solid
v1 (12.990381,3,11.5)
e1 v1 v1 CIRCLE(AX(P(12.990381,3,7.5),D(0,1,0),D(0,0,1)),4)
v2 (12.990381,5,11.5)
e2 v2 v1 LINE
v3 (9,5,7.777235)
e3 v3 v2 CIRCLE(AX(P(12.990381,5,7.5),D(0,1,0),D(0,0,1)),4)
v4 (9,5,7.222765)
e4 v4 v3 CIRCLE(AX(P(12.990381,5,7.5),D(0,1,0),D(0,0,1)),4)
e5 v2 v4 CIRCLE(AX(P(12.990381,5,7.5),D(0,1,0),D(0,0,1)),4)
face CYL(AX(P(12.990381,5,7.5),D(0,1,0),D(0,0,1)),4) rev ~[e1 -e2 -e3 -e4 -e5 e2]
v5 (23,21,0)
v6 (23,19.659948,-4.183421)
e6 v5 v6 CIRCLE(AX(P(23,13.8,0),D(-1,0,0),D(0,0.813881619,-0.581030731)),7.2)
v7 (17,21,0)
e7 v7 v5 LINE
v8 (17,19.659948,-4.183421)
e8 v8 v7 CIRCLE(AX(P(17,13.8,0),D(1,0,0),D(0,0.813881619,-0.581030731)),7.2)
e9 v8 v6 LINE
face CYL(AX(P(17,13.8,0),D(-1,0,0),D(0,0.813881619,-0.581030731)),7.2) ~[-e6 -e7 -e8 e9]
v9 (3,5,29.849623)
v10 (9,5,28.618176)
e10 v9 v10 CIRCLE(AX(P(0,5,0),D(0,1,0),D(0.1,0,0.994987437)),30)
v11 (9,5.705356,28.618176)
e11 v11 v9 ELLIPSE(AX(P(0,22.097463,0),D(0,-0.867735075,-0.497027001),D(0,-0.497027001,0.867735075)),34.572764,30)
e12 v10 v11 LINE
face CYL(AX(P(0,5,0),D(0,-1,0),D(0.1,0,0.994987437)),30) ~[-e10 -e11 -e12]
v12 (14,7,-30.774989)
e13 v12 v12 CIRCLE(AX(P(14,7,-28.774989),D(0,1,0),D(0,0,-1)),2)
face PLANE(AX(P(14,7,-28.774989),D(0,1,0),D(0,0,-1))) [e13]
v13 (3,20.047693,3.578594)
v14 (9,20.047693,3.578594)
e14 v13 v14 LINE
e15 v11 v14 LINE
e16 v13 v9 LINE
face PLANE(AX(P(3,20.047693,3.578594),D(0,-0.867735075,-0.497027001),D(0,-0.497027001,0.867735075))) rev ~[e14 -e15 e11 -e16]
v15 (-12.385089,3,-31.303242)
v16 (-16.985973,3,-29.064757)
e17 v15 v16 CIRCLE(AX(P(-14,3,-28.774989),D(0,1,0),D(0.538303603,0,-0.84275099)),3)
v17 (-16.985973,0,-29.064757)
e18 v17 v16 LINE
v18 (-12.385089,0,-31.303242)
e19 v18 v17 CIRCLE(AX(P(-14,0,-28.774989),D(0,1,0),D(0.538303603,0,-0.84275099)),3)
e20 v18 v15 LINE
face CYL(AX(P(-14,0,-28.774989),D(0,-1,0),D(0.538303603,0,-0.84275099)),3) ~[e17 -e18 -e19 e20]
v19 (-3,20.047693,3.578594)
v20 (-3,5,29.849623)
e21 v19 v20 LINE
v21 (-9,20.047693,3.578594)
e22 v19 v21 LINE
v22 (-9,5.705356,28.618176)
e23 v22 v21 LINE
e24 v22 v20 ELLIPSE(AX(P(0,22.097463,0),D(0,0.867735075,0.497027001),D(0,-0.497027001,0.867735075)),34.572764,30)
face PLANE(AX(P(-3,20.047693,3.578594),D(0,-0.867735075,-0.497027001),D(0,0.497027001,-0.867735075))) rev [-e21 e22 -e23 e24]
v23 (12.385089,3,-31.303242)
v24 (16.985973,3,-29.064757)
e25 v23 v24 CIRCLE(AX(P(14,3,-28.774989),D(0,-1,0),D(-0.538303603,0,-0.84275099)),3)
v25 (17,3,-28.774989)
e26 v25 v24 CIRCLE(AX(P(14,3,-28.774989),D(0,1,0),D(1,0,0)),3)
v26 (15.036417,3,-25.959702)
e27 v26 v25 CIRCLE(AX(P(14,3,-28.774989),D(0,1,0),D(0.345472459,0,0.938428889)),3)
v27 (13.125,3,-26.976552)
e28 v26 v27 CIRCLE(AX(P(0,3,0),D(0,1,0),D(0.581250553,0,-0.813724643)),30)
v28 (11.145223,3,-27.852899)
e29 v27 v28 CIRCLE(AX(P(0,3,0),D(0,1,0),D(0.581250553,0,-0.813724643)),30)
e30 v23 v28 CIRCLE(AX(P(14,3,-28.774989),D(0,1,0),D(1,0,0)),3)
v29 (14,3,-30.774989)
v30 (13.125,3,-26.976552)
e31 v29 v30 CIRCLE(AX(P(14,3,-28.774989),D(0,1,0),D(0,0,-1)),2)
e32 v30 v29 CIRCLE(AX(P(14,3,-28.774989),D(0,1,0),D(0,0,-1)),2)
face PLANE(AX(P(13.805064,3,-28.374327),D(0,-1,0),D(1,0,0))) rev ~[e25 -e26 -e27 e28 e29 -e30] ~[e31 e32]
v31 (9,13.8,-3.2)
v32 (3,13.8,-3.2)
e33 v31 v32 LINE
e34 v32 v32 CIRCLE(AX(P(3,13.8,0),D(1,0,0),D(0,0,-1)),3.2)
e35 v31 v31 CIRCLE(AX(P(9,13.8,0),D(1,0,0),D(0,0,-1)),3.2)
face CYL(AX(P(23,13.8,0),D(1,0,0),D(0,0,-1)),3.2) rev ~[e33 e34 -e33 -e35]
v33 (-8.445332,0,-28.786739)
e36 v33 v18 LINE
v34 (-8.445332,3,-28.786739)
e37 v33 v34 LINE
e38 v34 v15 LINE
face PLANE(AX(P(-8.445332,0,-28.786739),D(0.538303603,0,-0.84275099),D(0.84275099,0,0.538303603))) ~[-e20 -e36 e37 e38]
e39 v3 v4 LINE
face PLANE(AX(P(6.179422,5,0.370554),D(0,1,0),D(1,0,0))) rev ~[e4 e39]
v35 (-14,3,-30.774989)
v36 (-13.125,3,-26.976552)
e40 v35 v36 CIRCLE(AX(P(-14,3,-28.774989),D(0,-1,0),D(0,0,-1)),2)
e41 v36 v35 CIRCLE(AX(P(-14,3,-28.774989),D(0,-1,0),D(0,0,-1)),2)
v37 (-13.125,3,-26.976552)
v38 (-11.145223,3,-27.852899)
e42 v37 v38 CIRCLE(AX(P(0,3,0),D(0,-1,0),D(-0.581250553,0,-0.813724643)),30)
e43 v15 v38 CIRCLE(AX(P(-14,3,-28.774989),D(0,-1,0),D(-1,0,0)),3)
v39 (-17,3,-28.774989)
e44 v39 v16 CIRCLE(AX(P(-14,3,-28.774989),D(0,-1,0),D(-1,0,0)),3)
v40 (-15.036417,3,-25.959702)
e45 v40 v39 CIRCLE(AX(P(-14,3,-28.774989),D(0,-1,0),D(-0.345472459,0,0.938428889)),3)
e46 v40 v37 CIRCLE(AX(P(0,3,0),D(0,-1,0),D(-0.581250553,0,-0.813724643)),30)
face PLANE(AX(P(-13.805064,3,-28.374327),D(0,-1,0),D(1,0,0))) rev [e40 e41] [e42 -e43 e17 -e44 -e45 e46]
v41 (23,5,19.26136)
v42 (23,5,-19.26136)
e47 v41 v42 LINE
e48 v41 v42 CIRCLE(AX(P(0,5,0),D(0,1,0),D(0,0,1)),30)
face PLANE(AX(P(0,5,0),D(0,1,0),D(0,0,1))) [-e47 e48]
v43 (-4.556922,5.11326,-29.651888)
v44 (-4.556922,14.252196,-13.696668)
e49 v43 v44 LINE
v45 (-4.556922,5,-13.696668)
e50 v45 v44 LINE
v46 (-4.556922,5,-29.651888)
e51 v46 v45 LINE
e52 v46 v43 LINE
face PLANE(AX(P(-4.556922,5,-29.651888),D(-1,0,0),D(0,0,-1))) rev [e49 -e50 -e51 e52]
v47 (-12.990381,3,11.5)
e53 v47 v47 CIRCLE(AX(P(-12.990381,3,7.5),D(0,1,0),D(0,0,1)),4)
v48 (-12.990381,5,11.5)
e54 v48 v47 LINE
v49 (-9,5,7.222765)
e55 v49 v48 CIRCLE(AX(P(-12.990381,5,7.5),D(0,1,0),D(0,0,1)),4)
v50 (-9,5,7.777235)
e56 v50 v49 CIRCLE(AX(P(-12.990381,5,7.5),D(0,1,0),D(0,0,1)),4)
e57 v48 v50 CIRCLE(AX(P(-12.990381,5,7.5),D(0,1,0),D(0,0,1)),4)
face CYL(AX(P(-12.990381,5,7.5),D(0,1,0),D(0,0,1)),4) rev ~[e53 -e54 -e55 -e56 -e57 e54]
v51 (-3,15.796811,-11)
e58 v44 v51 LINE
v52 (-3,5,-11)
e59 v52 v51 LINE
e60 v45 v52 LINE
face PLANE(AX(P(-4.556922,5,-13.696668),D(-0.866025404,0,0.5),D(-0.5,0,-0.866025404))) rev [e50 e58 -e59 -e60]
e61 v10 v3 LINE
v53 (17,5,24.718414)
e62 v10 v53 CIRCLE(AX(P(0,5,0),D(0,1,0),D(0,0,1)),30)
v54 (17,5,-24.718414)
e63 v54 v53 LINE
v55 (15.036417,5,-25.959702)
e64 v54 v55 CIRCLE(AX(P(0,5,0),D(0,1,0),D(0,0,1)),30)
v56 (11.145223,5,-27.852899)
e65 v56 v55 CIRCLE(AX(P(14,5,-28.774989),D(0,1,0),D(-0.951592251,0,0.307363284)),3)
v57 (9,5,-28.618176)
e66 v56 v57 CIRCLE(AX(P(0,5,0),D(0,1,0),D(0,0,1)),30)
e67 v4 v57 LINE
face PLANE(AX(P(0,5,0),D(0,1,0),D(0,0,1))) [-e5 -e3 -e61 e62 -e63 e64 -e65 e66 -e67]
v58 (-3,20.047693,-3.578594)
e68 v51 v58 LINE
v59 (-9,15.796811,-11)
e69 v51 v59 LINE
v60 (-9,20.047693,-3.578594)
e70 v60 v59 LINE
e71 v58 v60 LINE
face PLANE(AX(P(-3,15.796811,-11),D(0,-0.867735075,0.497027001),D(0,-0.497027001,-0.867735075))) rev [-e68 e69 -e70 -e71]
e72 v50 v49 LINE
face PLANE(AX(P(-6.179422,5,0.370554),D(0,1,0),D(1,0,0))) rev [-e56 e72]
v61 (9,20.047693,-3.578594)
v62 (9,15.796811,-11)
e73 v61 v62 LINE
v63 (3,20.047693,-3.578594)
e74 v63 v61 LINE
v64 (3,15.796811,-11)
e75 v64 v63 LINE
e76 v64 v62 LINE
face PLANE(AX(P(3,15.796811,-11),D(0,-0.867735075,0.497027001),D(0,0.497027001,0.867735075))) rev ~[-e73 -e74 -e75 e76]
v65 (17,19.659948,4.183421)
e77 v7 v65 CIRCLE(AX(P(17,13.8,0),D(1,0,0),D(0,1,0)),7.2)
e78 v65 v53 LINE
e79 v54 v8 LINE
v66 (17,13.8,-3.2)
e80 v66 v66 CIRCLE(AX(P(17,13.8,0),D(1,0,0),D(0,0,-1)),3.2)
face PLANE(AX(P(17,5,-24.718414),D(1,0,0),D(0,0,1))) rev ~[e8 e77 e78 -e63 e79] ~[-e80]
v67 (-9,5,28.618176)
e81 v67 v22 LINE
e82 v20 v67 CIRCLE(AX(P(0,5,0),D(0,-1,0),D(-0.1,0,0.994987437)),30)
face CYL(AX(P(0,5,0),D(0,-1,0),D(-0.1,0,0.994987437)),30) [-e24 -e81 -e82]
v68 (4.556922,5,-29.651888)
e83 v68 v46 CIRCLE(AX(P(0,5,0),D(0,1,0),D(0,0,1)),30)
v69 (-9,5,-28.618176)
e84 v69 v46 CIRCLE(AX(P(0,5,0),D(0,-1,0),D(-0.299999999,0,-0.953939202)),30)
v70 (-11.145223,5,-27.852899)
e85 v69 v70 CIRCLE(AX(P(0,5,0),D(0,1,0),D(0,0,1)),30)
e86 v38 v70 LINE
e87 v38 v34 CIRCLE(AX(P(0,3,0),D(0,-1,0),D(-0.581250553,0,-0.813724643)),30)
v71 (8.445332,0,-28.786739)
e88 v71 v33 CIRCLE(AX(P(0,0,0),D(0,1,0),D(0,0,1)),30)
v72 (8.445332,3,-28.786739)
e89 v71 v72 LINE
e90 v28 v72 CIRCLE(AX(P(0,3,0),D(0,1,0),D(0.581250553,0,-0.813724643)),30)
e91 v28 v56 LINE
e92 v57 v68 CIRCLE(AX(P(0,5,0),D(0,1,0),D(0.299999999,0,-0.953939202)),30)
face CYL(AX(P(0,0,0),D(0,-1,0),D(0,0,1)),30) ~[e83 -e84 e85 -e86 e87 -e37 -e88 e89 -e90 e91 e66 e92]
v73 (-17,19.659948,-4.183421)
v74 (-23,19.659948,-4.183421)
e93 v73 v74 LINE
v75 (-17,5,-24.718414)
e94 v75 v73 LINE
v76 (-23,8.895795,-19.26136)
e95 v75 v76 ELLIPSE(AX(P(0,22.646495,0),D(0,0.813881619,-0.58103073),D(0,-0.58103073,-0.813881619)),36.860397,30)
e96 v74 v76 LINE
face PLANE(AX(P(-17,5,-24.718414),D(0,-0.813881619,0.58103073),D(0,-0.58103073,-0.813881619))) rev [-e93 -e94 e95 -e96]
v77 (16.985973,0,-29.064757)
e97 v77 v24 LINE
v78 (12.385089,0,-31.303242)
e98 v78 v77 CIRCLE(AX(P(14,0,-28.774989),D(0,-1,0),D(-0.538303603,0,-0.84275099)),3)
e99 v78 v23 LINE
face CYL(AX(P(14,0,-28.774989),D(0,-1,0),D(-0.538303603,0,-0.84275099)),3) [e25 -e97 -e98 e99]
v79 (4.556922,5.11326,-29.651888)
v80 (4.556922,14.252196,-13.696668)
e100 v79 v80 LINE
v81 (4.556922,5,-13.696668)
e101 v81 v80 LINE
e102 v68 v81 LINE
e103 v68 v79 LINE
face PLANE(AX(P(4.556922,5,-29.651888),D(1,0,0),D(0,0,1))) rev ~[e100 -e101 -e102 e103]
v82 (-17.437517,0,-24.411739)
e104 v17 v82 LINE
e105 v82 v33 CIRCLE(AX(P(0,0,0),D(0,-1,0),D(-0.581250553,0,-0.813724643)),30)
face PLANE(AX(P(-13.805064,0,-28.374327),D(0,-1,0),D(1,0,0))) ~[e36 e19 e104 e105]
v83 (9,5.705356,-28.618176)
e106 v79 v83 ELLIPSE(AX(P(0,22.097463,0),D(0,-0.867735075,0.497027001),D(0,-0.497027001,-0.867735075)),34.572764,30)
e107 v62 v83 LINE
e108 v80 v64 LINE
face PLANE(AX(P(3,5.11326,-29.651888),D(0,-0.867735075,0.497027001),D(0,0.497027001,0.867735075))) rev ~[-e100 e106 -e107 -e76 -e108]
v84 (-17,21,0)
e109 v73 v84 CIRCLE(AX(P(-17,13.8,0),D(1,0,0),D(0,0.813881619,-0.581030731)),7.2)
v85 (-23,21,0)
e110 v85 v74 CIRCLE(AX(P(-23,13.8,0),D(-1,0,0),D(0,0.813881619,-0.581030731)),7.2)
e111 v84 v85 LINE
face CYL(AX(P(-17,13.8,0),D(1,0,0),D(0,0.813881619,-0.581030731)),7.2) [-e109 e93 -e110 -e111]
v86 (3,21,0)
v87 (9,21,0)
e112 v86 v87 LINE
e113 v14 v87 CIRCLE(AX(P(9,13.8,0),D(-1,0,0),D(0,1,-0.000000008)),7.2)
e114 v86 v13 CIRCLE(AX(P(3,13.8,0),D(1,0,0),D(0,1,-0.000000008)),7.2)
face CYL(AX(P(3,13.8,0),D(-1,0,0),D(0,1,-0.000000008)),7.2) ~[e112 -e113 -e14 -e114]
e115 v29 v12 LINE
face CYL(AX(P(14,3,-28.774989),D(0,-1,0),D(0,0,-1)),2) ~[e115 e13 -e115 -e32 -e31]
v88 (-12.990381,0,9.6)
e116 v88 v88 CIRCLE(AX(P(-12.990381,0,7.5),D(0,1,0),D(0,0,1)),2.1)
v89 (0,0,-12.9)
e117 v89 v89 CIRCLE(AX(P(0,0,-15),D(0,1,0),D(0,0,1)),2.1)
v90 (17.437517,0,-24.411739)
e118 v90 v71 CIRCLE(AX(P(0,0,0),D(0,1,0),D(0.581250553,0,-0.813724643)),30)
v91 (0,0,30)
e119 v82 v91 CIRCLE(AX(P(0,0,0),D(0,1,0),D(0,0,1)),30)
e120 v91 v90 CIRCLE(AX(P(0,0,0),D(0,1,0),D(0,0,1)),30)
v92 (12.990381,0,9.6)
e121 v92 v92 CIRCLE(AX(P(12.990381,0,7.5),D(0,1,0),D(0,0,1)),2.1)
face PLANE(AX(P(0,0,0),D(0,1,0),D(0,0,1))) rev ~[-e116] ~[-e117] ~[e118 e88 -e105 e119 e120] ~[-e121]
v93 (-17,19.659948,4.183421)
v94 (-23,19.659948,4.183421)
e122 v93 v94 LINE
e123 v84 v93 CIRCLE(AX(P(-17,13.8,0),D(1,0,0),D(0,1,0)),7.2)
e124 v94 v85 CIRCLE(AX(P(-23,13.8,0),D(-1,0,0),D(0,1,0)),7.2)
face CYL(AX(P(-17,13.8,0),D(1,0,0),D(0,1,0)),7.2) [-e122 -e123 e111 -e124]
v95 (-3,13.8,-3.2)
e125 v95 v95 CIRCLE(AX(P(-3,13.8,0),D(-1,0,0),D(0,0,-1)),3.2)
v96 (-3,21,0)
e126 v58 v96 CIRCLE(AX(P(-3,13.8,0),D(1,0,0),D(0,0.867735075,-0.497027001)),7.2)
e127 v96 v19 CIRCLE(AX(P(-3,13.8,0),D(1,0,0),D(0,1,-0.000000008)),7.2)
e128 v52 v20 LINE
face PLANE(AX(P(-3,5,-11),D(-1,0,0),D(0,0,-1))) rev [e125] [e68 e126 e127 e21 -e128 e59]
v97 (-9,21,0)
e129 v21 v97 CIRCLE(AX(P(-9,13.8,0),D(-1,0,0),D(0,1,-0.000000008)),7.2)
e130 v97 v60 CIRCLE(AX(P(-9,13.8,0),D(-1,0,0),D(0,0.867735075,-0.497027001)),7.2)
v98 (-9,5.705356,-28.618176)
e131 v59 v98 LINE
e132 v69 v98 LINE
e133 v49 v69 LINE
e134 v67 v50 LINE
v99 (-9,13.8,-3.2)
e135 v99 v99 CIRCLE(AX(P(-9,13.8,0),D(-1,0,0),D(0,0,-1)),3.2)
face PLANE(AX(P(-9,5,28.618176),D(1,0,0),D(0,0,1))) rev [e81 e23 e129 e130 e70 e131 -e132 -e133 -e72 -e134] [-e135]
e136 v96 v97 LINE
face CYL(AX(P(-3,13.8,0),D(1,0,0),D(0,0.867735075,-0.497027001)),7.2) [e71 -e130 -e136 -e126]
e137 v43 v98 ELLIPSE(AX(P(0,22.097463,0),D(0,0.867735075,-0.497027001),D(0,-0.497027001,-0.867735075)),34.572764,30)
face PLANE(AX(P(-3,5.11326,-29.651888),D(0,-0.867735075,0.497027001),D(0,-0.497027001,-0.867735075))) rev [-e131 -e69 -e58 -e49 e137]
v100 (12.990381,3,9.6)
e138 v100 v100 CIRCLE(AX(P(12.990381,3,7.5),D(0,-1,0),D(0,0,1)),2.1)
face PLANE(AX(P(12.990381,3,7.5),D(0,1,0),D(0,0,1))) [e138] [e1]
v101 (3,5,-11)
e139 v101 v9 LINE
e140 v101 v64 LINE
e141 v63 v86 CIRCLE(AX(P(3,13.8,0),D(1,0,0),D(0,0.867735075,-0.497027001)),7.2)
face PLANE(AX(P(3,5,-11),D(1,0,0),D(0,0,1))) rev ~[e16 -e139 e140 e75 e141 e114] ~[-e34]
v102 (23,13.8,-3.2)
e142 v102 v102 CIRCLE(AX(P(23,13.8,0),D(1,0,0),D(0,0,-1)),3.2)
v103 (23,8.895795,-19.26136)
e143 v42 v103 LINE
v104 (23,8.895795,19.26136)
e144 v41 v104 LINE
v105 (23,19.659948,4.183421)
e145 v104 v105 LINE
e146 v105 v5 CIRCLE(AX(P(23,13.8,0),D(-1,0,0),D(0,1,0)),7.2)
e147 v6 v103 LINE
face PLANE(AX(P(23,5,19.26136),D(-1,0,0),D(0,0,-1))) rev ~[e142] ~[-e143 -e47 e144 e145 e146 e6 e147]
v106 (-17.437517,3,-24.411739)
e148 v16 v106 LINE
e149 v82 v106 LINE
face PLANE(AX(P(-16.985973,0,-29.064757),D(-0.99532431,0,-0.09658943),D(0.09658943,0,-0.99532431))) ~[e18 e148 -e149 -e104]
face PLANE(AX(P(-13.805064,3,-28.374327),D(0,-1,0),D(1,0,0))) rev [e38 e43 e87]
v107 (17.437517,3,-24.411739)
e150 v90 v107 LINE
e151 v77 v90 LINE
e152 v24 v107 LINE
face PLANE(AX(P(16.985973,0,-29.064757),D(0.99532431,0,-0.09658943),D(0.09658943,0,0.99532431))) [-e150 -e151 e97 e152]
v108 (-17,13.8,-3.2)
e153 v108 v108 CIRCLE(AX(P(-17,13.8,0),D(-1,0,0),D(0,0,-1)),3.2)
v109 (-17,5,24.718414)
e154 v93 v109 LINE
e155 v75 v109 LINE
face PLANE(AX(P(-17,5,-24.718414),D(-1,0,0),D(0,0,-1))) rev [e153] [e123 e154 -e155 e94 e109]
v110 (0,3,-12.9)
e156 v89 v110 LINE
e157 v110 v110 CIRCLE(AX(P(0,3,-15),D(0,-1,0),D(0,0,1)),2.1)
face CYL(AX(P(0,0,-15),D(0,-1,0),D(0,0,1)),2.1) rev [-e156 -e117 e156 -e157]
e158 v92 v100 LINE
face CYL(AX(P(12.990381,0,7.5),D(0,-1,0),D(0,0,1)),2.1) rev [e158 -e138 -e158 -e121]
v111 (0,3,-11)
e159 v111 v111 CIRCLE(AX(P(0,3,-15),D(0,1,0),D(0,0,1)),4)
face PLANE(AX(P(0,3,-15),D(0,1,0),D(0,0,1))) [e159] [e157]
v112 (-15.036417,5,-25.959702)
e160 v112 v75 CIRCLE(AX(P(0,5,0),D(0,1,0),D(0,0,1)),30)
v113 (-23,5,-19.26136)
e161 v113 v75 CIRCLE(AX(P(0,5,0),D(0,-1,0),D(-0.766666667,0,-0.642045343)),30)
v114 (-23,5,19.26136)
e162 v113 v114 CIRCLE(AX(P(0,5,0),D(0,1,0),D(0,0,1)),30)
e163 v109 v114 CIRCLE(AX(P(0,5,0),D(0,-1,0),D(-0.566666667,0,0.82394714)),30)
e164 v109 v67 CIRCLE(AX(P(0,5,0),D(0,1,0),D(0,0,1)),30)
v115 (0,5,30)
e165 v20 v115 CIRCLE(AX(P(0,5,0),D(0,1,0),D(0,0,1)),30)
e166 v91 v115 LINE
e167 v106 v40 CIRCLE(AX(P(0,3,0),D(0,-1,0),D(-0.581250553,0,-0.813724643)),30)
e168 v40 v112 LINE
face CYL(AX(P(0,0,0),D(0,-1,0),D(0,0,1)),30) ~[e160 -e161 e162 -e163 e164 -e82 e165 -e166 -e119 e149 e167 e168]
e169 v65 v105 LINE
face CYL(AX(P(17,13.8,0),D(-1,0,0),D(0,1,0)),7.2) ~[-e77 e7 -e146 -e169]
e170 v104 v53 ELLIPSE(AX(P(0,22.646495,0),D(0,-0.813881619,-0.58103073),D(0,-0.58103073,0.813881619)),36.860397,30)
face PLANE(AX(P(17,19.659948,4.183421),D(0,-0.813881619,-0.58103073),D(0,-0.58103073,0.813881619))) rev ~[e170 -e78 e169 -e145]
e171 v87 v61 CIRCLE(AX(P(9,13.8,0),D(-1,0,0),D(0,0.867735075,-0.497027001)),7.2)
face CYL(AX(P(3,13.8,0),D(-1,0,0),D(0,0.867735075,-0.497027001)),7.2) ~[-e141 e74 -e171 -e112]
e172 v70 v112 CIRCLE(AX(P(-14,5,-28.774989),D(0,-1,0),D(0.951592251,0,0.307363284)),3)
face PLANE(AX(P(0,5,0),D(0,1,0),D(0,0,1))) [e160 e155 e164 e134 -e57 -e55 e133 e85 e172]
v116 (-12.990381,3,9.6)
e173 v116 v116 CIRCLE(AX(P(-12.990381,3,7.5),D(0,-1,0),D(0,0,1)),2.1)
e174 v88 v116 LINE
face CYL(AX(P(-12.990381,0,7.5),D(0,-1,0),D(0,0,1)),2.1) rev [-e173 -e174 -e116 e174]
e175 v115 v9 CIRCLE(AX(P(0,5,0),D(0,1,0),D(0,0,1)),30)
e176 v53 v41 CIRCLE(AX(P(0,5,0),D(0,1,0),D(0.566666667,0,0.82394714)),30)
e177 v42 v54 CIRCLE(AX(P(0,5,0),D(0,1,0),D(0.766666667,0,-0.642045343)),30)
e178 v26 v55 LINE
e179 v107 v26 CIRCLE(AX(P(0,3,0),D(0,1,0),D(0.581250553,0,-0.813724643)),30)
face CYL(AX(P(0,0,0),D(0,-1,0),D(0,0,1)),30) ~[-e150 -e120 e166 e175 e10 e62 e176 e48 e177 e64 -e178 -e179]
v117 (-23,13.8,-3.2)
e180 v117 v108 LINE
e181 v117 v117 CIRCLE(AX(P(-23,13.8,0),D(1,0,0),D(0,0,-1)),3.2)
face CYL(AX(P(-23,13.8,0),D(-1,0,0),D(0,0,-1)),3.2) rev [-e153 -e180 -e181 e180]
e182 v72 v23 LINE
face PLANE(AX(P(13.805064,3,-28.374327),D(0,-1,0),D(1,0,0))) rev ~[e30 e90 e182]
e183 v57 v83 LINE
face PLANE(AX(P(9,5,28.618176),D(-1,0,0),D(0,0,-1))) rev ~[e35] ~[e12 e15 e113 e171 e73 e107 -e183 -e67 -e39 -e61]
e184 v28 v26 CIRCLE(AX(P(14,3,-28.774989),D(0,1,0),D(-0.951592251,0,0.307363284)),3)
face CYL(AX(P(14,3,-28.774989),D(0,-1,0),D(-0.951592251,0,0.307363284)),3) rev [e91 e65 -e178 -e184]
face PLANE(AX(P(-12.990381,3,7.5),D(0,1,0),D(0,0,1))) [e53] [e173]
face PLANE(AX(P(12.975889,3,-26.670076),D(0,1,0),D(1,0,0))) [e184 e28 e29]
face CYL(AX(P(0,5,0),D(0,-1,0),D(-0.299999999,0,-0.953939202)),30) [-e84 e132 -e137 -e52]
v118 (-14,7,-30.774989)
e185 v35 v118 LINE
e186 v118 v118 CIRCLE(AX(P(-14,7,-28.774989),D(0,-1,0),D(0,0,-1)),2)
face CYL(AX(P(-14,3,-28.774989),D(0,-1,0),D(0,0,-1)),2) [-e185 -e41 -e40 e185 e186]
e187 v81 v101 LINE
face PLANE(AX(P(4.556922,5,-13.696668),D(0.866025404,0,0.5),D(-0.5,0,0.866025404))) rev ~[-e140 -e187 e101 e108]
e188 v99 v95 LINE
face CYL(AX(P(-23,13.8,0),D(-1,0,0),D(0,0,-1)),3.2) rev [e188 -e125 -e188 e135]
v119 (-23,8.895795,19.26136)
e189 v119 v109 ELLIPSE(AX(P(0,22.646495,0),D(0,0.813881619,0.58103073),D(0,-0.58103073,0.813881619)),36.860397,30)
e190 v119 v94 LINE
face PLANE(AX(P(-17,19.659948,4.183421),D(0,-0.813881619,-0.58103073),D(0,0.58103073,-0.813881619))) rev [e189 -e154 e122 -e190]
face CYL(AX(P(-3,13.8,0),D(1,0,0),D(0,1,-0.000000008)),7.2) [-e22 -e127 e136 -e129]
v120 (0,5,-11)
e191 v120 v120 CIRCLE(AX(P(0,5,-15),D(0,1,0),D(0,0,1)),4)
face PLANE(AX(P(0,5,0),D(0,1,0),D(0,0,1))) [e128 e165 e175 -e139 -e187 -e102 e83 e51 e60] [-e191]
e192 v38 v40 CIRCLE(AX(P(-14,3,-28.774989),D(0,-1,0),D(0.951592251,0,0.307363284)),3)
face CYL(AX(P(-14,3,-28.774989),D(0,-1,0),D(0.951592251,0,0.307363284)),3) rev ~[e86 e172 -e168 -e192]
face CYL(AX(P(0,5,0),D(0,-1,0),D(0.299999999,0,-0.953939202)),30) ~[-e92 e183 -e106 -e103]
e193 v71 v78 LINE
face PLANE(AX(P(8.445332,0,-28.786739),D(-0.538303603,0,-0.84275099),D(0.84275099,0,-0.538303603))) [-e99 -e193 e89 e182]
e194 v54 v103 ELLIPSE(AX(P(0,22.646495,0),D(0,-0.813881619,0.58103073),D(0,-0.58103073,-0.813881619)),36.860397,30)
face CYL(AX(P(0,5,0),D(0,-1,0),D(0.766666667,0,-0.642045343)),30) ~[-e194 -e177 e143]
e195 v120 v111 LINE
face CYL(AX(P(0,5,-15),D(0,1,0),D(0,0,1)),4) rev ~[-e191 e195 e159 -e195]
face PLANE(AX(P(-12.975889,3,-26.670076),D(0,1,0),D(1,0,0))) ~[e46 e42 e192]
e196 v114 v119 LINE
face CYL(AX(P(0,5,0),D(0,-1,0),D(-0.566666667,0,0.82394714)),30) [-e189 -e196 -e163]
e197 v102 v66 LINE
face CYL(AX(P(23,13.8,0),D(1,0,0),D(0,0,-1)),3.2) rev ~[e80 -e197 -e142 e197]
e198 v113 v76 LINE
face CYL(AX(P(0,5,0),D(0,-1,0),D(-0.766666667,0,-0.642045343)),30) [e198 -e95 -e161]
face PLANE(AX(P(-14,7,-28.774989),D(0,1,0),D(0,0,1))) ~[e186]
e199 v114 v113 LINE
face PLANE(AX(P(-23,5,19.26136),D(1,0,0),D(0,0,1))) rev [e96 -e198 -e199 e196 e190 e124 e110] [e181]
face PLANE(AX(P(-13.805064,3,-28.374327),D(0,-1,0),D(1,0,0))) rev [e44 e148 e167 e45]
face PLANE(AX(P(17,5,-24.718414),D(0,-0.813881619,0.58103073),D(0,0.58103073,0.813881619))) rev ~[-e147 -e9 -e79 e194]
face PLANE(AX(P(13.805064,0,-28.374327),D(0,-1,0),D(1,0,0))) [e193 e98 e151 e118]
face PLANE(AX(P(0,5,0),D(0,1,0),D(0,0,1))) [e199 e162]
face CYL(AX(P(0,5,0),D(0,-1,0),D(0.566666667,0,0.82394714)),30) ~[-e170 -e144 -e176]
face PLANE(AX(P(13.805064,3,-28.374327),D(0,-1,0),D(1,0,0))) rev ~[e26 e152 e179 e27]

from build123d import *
from build123d.topology import SkipClean

# Parameters (mm, degrees)
SKETCH1_R           = 30
SKETCH1_R_2         = 2.1
BOSS_EXTRUDE1_DEPTH = 5
SKETCH7_R           = 4
CUT_EXTRUDE2_DEPTH  = 2
BOSS_EXTRUDE5_DEPTH = 16
SKETCH8_R           = 3.2
CUT_EXTRUDE3_DEPTH  = 65.420493634
CUT_EXTRUDE4_REACH  = 51.295
CUT_EXTRUDE5_REACH  = 61.582
BOSS_EXTRUDE8_DEPTH = 3
CUT_EXTRUDE8_START  = -2
CUT_EXTRUDE8_DEPTH  = 2
SKETCH14_R          = 2
BOSS_EXTRUDE9_DEPTH = 4


with BuildPart() as part:
    # Sketch1 → Boss-Extrude1 (new body)
    with BuildSketch(Plane(origin=(0, 0, 0), x_dir=(1, 0, 0), z_dir=(0, 1, 0))):
        with Locations(Location((0, 0, 0), (0, 0, 270))):
            Circle(SKETCH1_R)
        with Locations(Location((0, 15, 0), (0, 0, 270))):
            Circle(SKETCH1_R_2, mode=Mode.SUBTRACT)
        with Locations(Location((12.990381057, -7.5, 0), (0, 0, 270))):
            Circle(SKETCH1_R_2, mode=Mode.SUBTRACT)
        with Locations(Location((-12.990381057, -7.5, 0), (0, 0, 270))):
            Circle(SKETCH1_R_2, mode=Mode.SUBTRACT)
    extrude(amount=BOSS_EXTRUDE1_DEPTH)

    # Sketch7 → Cut-Extrude2 (cut)
    with BuildSketch(Plane(origin=(0, 5, 0), x_dir=(1, 0, 0), z_dir=(0, 1, 0))):
        with Locations(Location((0, 15, 0), (0, 0, 270))):
            Circle(SKETCH7_R)
        with Locations(Location((12.990381057, -7.5, 0), (0, 0, 270))):
            Circle(SKETCH7_R)
        with Locations(Location((-12.990381057, -7.5, 0), (0, 0, 270))):
            Circle(SKETCH7_R)
    extrude(amount=-CUT_EXTRUDE2_DEPTH, mode=Mode.SUBTRACT)

    # Sketch2 → Boss-Extrude5 (add)
    with BuildSketch(Plane(origin=(0, 5, 0), x_dir=(1, 0, 0), z_dir=(0, 1, 0))):
        with BuildLine():
            Line((23, -19.261360284), (23, 19.261360284))
            ThreePointArc((23, 19.261360284), (20.18526342, 22.193583322), (17, 24.718414189))
            Line((17, 24.718414189), (17, -24.718414189))
            ThreePointArc((17, -24.718414189), (20.18526342, -22.193583322), (23, -19.261360284))
        make_face()
        with BuildLine():
            Line((9, -28.618176043), (9, 28.618176043))
            ThreePointArc((9, 28.618176043), (6.798137481, 29.219605178), (4.556921938, 29.651888008))
            Line((4.556921938, 29.651888008), (4.556921938, 13.6966679))
            Line((4.556921938, 13.6966679), (3, 11))
            Line((3, 11), (3, -29.849623113))
            ThreePointArc((3, -29.849623113), (6.031510215, -29.387427321), (9, -28.618176043))
        make_face()
    boss_extrude5 = extrude(amount=BOSS_EXTRUDE5_DEPTH)

    # Sketch8 → Cut-Extrude3 (cut, through all)
    with BuildSketch(Plane(origin=(23, 0, 0), x_dir=(0, 0, -1), z_dir=(1, 0, 0))):
        with Locations((0, 13.8)):
            Circle(SKETCH8_R)
    cut_extrude3 = extrude(amount=-CUT_EXTRUDE3_DEPTH, mode=Mode.SUBTRACT)

    # Sketch9 → Cut-Extrude4 (cut, up to next)
    with BuildSketch(Plane.ZY.offset(-3), mode=Mode.PRIVATE) as cut_extrude4_sk1:
        Polygon((-29.651888008, 21), (-29.651888008, 5.113260013), (-11, 15.796811053), (-11, 21), (-13.6966679, 21), align=None)
    cut_extrude4_tool1 = extrude(cut_extrude4_sk1.sketch, amount=-CUT_EXTRUDE4_REACH, mode=Mode.PRIVATE) & part.part
    # Sketch9 → Cut-Extrude4 (cut, up to next)
    with BuildSketch(Plane.ZY.offset(-3), mode=Mode.PRIVATE) as cut_extrude4_sk2:
        with BuildLine():
            Line((-11, 21), (-11, 15.796811053))
            Line((-11, 15.796811053), (-3.578594408, 20.047692539))
            ThreePointArc((-3.578594408, 20.047692539), (-1.851568785, 20.757851179), (-5.9e-08, 21))
            Line((-5.9e-08, 21), (-11, 21))
        make_face()
    cut_extrude4_tool2 = extrude(cut_extrude4_sk2.sketch, amount=-CUT_EXTRUDE4_REACH, mode=Mode.PRIVATE) & part.part
    # Sketch9 → Cut-Extrude4 (cut, up to next)
    with BuildSketch(Plane.ZY.offset(-3), mode=Mode.PRIVATE) as cut_extrude4_sk3:
        with BuildLine():
            Line((29.849623113, 21), (-5.9e-08, 21))
            ThreePointArc((-5.9e-08, 21), (1.851568727, 20.757851195), (3.578594408, 20.047692539))
            Line((3.578594408, 20.047692539), (29.849623113, 5))
            Line((29.849623113, 5), (29.849623113, 21))
        make_face()
    cut_extrude4_tool3 = extrude(cut_extrude4_sk3.sketch, amount=-CUT_EXTRUDE4_REACH, mode=Mode.PRIVATE) & part.part
    cut_extrude4_1 = cut_extrude4_tool1.solids().sort_by_distance((3, 15.276519, -21.900696))[0]
    add(cut_extrude4_1, mode=Mode.SUBTRACT)
    cut_extrude4_2 = cut_extrude4_tool2.solids().sort_by_distance((3, 19.285722, -7.892308))[0]
    add(cut_extrude4_2, mode=Mode.SUBTRACT)
    cut_extrude4_3 = cut_extrude4_tool3.solids().sort_by_distance((3, 15.673845, 20.512344))[0]
    add(cut_extrude4_3, mode=Mode.SUBTRACT)
    cut_extrude4 = cut_extrude4_1 + cut_extrude4_2 + cut_extrude4_3  # Cut-Extrude4 as one shape, for the pattern or mirror that repeats it

    # Sketch10 → Cut-Extrude5 (cut, up to next)
    with BuildSketch(Plane.ZY.offset(-17), mode=Mode.PRIVATE) as cut_extrude5_sk1:
        with BuildLine():
            Line((-24.718414189, 21), (-24.718414189, 5))
            Line((-24.718414189, 5), (-4.183421259, 19.659947659))
            ThreePointArc((-4.183421259, 19.659947659), (-2.196403521, 20.656807681), (0, 21))
            Line((0, 21), (-24.718414189, 21))
        make_face()
    cut_extrude5_tool1 = extrude(cut_extrude5_sk1.sketch, amount=-CUT_EXTRUDE5_REACH, mode=Mode.PRIVATE) & part.part
    # Sketch10 → Cut-Extrude5 (cut, up to next)
    with BuildSketch(Plane.ZY.offset(-17), mode=Mode.PRIVATE) as cut_extrude5_sk2:
        with BuildLine():
            Line((4.183421259, 19.659947659), (24.718414189, 5))
            Line((24.718414189, 5), (24.718414189, 21))
            Line((24.718414189, 21), (0, 21))
            ThreePointArc((0, 21), (2.196403521, 20.656807681), (4.183421259, 19.659947659))
        make_face()
    cut_extrude5_tool2 = extrude(cut_extrude5_sk2.sketch, amount=-CUT_EXTRUDE5_REACH, mode=Mode.PRIVATE) & part.part
    cut_extrude5_1 = cut_extrude5_tool1.solids().sort_by_distance((17, 15.681733, -17.202981))[0]
    add(cut_extrude5_1, mode=Mode.SUBTRACT)
    cut_extrude5_2 = cut_extrude5_tool2.solids().sort_by_distance((17, 15.681733, 17.202981))[0]
    add(cut_extrude5_2, mode=Mode.SUBTRACT)
    cut_extrude5 = cut_extrude5_1 + cut_extrude5_2  # Cut-Extrude5 as one shape, for the pattern or mirror that repeats it

    # Mirror1: Boss-Extrude5, Cut-Extrude3, Cut-Extrude4, Cut-Extrude5 across plane
    with SkipClean():  # the faces are left unmerged after this step: merging them gives an invalid solid
        add(boss_extrude5.mirror(Plane.ZY))
        add(cut_extrude3.mirror(Plane.ZY), mode=Mode.SUBTRACT)
        add(cut_extrude4.mirror(Plane.ZY), mode=Mode.SUBTRACT)
        add(cut_extrude5.mirror(Plane.ZY), mode=Mode.SUBTRACT)

    # Sketch13 → Boss-Extrude8 (add)
    with SkipClean():  # the faces are left unmerged after this step: merging them gives an invalid solid
        with BuildSketch(Plane.XZ):
            with BuildLine():
                ThreePointArc((12.385089192, -31.30324211), (15.3125, -31.472644372), (16.98597293, -29.064757431))
                Line((16.98597293, -29.064757431), (17.437516579, -24.411739298))
                ThreePointArc((17.437516579, -24.411739298), (13.125, -26.976552319), (8.445332472, -28.786739298))
                Line((8.445332472, -28.786739298), (12.385089192, -31.30324211))
            make_face()
        boss_extrude8 = extrude(amount=-BOSS_EXTRUDE8_DEPTH)

    # Sketch15 → Cut-Extrude8 (cut)
    with SkipClean():  # the faces are left unmerged after this step: merging them gives an invalid solid
        with BuildSketch(Plane(origin=(0, 5, 0), x_dir=(1, 0, 0), z_dir=(0, 1, 0)).offset(CUT_EXTRUDE8_START)):
            with BuildLine():
                ThreePointArc((15.036417377, 25.959702472), (13.125, 26.976552319), (11.145223248, 27.852899288))
                ThreePointArc((11.145223248, 27.852899288), (12.6875, 26.077333908), (15.036417377, 25.959702472))
            make_face()
            with BuildLine():
                ThreePointArc((17, 28.77498914), (13.533272165, 31.738460943), (11.145223248, 27.852899288))
                ThreePointArc((11.145223248, 27.852899288), (13.125, 26.976552319), (15.036417377, 25.959702472))
                ThreePointArc((15.036417377, 25.959702472), (16.460614977, 27.058779964), (17, 28.77498914))
            make_face()
        cut_extrude8 = extrude(amount=CUT_EXTRUDE8_DEPTH, mode=Mode.SUBTRACT)

    # Sketch14 → Boss-Extrude9 (add)
    with SkipClean():  # the faces are left unmerged after this step: merging them gives an invalid solid
        with BuildSketch(Plane(origin=(0, 3, 0), x_dir=(1, 0, 0), z_dir=(0, 1, 0))):
            with Locations(Location((14, 28.77498914, 0), (0, 0, 90))):
                Circle(SKETCH14_R)
        boss_extrude9 = extrude(amount=BOSS_EXTRUDE9_DEPTH)

    # Mirror2: Boss-Extrude8, Cut-Extrude8, Boss-Extrude9 across plane
    with SkipClean():  # the faces are left unmerged after this step: merging them gives an invalid solid
        add(boss_extrude8.mirror(Plane.ZY))
        add(cut_extrude8.mirror(Plane.ZY), mode=Mode.SUBTRACT)
        add(boss_extrude9.mirror(Plane.ZY))


solid = part.part
